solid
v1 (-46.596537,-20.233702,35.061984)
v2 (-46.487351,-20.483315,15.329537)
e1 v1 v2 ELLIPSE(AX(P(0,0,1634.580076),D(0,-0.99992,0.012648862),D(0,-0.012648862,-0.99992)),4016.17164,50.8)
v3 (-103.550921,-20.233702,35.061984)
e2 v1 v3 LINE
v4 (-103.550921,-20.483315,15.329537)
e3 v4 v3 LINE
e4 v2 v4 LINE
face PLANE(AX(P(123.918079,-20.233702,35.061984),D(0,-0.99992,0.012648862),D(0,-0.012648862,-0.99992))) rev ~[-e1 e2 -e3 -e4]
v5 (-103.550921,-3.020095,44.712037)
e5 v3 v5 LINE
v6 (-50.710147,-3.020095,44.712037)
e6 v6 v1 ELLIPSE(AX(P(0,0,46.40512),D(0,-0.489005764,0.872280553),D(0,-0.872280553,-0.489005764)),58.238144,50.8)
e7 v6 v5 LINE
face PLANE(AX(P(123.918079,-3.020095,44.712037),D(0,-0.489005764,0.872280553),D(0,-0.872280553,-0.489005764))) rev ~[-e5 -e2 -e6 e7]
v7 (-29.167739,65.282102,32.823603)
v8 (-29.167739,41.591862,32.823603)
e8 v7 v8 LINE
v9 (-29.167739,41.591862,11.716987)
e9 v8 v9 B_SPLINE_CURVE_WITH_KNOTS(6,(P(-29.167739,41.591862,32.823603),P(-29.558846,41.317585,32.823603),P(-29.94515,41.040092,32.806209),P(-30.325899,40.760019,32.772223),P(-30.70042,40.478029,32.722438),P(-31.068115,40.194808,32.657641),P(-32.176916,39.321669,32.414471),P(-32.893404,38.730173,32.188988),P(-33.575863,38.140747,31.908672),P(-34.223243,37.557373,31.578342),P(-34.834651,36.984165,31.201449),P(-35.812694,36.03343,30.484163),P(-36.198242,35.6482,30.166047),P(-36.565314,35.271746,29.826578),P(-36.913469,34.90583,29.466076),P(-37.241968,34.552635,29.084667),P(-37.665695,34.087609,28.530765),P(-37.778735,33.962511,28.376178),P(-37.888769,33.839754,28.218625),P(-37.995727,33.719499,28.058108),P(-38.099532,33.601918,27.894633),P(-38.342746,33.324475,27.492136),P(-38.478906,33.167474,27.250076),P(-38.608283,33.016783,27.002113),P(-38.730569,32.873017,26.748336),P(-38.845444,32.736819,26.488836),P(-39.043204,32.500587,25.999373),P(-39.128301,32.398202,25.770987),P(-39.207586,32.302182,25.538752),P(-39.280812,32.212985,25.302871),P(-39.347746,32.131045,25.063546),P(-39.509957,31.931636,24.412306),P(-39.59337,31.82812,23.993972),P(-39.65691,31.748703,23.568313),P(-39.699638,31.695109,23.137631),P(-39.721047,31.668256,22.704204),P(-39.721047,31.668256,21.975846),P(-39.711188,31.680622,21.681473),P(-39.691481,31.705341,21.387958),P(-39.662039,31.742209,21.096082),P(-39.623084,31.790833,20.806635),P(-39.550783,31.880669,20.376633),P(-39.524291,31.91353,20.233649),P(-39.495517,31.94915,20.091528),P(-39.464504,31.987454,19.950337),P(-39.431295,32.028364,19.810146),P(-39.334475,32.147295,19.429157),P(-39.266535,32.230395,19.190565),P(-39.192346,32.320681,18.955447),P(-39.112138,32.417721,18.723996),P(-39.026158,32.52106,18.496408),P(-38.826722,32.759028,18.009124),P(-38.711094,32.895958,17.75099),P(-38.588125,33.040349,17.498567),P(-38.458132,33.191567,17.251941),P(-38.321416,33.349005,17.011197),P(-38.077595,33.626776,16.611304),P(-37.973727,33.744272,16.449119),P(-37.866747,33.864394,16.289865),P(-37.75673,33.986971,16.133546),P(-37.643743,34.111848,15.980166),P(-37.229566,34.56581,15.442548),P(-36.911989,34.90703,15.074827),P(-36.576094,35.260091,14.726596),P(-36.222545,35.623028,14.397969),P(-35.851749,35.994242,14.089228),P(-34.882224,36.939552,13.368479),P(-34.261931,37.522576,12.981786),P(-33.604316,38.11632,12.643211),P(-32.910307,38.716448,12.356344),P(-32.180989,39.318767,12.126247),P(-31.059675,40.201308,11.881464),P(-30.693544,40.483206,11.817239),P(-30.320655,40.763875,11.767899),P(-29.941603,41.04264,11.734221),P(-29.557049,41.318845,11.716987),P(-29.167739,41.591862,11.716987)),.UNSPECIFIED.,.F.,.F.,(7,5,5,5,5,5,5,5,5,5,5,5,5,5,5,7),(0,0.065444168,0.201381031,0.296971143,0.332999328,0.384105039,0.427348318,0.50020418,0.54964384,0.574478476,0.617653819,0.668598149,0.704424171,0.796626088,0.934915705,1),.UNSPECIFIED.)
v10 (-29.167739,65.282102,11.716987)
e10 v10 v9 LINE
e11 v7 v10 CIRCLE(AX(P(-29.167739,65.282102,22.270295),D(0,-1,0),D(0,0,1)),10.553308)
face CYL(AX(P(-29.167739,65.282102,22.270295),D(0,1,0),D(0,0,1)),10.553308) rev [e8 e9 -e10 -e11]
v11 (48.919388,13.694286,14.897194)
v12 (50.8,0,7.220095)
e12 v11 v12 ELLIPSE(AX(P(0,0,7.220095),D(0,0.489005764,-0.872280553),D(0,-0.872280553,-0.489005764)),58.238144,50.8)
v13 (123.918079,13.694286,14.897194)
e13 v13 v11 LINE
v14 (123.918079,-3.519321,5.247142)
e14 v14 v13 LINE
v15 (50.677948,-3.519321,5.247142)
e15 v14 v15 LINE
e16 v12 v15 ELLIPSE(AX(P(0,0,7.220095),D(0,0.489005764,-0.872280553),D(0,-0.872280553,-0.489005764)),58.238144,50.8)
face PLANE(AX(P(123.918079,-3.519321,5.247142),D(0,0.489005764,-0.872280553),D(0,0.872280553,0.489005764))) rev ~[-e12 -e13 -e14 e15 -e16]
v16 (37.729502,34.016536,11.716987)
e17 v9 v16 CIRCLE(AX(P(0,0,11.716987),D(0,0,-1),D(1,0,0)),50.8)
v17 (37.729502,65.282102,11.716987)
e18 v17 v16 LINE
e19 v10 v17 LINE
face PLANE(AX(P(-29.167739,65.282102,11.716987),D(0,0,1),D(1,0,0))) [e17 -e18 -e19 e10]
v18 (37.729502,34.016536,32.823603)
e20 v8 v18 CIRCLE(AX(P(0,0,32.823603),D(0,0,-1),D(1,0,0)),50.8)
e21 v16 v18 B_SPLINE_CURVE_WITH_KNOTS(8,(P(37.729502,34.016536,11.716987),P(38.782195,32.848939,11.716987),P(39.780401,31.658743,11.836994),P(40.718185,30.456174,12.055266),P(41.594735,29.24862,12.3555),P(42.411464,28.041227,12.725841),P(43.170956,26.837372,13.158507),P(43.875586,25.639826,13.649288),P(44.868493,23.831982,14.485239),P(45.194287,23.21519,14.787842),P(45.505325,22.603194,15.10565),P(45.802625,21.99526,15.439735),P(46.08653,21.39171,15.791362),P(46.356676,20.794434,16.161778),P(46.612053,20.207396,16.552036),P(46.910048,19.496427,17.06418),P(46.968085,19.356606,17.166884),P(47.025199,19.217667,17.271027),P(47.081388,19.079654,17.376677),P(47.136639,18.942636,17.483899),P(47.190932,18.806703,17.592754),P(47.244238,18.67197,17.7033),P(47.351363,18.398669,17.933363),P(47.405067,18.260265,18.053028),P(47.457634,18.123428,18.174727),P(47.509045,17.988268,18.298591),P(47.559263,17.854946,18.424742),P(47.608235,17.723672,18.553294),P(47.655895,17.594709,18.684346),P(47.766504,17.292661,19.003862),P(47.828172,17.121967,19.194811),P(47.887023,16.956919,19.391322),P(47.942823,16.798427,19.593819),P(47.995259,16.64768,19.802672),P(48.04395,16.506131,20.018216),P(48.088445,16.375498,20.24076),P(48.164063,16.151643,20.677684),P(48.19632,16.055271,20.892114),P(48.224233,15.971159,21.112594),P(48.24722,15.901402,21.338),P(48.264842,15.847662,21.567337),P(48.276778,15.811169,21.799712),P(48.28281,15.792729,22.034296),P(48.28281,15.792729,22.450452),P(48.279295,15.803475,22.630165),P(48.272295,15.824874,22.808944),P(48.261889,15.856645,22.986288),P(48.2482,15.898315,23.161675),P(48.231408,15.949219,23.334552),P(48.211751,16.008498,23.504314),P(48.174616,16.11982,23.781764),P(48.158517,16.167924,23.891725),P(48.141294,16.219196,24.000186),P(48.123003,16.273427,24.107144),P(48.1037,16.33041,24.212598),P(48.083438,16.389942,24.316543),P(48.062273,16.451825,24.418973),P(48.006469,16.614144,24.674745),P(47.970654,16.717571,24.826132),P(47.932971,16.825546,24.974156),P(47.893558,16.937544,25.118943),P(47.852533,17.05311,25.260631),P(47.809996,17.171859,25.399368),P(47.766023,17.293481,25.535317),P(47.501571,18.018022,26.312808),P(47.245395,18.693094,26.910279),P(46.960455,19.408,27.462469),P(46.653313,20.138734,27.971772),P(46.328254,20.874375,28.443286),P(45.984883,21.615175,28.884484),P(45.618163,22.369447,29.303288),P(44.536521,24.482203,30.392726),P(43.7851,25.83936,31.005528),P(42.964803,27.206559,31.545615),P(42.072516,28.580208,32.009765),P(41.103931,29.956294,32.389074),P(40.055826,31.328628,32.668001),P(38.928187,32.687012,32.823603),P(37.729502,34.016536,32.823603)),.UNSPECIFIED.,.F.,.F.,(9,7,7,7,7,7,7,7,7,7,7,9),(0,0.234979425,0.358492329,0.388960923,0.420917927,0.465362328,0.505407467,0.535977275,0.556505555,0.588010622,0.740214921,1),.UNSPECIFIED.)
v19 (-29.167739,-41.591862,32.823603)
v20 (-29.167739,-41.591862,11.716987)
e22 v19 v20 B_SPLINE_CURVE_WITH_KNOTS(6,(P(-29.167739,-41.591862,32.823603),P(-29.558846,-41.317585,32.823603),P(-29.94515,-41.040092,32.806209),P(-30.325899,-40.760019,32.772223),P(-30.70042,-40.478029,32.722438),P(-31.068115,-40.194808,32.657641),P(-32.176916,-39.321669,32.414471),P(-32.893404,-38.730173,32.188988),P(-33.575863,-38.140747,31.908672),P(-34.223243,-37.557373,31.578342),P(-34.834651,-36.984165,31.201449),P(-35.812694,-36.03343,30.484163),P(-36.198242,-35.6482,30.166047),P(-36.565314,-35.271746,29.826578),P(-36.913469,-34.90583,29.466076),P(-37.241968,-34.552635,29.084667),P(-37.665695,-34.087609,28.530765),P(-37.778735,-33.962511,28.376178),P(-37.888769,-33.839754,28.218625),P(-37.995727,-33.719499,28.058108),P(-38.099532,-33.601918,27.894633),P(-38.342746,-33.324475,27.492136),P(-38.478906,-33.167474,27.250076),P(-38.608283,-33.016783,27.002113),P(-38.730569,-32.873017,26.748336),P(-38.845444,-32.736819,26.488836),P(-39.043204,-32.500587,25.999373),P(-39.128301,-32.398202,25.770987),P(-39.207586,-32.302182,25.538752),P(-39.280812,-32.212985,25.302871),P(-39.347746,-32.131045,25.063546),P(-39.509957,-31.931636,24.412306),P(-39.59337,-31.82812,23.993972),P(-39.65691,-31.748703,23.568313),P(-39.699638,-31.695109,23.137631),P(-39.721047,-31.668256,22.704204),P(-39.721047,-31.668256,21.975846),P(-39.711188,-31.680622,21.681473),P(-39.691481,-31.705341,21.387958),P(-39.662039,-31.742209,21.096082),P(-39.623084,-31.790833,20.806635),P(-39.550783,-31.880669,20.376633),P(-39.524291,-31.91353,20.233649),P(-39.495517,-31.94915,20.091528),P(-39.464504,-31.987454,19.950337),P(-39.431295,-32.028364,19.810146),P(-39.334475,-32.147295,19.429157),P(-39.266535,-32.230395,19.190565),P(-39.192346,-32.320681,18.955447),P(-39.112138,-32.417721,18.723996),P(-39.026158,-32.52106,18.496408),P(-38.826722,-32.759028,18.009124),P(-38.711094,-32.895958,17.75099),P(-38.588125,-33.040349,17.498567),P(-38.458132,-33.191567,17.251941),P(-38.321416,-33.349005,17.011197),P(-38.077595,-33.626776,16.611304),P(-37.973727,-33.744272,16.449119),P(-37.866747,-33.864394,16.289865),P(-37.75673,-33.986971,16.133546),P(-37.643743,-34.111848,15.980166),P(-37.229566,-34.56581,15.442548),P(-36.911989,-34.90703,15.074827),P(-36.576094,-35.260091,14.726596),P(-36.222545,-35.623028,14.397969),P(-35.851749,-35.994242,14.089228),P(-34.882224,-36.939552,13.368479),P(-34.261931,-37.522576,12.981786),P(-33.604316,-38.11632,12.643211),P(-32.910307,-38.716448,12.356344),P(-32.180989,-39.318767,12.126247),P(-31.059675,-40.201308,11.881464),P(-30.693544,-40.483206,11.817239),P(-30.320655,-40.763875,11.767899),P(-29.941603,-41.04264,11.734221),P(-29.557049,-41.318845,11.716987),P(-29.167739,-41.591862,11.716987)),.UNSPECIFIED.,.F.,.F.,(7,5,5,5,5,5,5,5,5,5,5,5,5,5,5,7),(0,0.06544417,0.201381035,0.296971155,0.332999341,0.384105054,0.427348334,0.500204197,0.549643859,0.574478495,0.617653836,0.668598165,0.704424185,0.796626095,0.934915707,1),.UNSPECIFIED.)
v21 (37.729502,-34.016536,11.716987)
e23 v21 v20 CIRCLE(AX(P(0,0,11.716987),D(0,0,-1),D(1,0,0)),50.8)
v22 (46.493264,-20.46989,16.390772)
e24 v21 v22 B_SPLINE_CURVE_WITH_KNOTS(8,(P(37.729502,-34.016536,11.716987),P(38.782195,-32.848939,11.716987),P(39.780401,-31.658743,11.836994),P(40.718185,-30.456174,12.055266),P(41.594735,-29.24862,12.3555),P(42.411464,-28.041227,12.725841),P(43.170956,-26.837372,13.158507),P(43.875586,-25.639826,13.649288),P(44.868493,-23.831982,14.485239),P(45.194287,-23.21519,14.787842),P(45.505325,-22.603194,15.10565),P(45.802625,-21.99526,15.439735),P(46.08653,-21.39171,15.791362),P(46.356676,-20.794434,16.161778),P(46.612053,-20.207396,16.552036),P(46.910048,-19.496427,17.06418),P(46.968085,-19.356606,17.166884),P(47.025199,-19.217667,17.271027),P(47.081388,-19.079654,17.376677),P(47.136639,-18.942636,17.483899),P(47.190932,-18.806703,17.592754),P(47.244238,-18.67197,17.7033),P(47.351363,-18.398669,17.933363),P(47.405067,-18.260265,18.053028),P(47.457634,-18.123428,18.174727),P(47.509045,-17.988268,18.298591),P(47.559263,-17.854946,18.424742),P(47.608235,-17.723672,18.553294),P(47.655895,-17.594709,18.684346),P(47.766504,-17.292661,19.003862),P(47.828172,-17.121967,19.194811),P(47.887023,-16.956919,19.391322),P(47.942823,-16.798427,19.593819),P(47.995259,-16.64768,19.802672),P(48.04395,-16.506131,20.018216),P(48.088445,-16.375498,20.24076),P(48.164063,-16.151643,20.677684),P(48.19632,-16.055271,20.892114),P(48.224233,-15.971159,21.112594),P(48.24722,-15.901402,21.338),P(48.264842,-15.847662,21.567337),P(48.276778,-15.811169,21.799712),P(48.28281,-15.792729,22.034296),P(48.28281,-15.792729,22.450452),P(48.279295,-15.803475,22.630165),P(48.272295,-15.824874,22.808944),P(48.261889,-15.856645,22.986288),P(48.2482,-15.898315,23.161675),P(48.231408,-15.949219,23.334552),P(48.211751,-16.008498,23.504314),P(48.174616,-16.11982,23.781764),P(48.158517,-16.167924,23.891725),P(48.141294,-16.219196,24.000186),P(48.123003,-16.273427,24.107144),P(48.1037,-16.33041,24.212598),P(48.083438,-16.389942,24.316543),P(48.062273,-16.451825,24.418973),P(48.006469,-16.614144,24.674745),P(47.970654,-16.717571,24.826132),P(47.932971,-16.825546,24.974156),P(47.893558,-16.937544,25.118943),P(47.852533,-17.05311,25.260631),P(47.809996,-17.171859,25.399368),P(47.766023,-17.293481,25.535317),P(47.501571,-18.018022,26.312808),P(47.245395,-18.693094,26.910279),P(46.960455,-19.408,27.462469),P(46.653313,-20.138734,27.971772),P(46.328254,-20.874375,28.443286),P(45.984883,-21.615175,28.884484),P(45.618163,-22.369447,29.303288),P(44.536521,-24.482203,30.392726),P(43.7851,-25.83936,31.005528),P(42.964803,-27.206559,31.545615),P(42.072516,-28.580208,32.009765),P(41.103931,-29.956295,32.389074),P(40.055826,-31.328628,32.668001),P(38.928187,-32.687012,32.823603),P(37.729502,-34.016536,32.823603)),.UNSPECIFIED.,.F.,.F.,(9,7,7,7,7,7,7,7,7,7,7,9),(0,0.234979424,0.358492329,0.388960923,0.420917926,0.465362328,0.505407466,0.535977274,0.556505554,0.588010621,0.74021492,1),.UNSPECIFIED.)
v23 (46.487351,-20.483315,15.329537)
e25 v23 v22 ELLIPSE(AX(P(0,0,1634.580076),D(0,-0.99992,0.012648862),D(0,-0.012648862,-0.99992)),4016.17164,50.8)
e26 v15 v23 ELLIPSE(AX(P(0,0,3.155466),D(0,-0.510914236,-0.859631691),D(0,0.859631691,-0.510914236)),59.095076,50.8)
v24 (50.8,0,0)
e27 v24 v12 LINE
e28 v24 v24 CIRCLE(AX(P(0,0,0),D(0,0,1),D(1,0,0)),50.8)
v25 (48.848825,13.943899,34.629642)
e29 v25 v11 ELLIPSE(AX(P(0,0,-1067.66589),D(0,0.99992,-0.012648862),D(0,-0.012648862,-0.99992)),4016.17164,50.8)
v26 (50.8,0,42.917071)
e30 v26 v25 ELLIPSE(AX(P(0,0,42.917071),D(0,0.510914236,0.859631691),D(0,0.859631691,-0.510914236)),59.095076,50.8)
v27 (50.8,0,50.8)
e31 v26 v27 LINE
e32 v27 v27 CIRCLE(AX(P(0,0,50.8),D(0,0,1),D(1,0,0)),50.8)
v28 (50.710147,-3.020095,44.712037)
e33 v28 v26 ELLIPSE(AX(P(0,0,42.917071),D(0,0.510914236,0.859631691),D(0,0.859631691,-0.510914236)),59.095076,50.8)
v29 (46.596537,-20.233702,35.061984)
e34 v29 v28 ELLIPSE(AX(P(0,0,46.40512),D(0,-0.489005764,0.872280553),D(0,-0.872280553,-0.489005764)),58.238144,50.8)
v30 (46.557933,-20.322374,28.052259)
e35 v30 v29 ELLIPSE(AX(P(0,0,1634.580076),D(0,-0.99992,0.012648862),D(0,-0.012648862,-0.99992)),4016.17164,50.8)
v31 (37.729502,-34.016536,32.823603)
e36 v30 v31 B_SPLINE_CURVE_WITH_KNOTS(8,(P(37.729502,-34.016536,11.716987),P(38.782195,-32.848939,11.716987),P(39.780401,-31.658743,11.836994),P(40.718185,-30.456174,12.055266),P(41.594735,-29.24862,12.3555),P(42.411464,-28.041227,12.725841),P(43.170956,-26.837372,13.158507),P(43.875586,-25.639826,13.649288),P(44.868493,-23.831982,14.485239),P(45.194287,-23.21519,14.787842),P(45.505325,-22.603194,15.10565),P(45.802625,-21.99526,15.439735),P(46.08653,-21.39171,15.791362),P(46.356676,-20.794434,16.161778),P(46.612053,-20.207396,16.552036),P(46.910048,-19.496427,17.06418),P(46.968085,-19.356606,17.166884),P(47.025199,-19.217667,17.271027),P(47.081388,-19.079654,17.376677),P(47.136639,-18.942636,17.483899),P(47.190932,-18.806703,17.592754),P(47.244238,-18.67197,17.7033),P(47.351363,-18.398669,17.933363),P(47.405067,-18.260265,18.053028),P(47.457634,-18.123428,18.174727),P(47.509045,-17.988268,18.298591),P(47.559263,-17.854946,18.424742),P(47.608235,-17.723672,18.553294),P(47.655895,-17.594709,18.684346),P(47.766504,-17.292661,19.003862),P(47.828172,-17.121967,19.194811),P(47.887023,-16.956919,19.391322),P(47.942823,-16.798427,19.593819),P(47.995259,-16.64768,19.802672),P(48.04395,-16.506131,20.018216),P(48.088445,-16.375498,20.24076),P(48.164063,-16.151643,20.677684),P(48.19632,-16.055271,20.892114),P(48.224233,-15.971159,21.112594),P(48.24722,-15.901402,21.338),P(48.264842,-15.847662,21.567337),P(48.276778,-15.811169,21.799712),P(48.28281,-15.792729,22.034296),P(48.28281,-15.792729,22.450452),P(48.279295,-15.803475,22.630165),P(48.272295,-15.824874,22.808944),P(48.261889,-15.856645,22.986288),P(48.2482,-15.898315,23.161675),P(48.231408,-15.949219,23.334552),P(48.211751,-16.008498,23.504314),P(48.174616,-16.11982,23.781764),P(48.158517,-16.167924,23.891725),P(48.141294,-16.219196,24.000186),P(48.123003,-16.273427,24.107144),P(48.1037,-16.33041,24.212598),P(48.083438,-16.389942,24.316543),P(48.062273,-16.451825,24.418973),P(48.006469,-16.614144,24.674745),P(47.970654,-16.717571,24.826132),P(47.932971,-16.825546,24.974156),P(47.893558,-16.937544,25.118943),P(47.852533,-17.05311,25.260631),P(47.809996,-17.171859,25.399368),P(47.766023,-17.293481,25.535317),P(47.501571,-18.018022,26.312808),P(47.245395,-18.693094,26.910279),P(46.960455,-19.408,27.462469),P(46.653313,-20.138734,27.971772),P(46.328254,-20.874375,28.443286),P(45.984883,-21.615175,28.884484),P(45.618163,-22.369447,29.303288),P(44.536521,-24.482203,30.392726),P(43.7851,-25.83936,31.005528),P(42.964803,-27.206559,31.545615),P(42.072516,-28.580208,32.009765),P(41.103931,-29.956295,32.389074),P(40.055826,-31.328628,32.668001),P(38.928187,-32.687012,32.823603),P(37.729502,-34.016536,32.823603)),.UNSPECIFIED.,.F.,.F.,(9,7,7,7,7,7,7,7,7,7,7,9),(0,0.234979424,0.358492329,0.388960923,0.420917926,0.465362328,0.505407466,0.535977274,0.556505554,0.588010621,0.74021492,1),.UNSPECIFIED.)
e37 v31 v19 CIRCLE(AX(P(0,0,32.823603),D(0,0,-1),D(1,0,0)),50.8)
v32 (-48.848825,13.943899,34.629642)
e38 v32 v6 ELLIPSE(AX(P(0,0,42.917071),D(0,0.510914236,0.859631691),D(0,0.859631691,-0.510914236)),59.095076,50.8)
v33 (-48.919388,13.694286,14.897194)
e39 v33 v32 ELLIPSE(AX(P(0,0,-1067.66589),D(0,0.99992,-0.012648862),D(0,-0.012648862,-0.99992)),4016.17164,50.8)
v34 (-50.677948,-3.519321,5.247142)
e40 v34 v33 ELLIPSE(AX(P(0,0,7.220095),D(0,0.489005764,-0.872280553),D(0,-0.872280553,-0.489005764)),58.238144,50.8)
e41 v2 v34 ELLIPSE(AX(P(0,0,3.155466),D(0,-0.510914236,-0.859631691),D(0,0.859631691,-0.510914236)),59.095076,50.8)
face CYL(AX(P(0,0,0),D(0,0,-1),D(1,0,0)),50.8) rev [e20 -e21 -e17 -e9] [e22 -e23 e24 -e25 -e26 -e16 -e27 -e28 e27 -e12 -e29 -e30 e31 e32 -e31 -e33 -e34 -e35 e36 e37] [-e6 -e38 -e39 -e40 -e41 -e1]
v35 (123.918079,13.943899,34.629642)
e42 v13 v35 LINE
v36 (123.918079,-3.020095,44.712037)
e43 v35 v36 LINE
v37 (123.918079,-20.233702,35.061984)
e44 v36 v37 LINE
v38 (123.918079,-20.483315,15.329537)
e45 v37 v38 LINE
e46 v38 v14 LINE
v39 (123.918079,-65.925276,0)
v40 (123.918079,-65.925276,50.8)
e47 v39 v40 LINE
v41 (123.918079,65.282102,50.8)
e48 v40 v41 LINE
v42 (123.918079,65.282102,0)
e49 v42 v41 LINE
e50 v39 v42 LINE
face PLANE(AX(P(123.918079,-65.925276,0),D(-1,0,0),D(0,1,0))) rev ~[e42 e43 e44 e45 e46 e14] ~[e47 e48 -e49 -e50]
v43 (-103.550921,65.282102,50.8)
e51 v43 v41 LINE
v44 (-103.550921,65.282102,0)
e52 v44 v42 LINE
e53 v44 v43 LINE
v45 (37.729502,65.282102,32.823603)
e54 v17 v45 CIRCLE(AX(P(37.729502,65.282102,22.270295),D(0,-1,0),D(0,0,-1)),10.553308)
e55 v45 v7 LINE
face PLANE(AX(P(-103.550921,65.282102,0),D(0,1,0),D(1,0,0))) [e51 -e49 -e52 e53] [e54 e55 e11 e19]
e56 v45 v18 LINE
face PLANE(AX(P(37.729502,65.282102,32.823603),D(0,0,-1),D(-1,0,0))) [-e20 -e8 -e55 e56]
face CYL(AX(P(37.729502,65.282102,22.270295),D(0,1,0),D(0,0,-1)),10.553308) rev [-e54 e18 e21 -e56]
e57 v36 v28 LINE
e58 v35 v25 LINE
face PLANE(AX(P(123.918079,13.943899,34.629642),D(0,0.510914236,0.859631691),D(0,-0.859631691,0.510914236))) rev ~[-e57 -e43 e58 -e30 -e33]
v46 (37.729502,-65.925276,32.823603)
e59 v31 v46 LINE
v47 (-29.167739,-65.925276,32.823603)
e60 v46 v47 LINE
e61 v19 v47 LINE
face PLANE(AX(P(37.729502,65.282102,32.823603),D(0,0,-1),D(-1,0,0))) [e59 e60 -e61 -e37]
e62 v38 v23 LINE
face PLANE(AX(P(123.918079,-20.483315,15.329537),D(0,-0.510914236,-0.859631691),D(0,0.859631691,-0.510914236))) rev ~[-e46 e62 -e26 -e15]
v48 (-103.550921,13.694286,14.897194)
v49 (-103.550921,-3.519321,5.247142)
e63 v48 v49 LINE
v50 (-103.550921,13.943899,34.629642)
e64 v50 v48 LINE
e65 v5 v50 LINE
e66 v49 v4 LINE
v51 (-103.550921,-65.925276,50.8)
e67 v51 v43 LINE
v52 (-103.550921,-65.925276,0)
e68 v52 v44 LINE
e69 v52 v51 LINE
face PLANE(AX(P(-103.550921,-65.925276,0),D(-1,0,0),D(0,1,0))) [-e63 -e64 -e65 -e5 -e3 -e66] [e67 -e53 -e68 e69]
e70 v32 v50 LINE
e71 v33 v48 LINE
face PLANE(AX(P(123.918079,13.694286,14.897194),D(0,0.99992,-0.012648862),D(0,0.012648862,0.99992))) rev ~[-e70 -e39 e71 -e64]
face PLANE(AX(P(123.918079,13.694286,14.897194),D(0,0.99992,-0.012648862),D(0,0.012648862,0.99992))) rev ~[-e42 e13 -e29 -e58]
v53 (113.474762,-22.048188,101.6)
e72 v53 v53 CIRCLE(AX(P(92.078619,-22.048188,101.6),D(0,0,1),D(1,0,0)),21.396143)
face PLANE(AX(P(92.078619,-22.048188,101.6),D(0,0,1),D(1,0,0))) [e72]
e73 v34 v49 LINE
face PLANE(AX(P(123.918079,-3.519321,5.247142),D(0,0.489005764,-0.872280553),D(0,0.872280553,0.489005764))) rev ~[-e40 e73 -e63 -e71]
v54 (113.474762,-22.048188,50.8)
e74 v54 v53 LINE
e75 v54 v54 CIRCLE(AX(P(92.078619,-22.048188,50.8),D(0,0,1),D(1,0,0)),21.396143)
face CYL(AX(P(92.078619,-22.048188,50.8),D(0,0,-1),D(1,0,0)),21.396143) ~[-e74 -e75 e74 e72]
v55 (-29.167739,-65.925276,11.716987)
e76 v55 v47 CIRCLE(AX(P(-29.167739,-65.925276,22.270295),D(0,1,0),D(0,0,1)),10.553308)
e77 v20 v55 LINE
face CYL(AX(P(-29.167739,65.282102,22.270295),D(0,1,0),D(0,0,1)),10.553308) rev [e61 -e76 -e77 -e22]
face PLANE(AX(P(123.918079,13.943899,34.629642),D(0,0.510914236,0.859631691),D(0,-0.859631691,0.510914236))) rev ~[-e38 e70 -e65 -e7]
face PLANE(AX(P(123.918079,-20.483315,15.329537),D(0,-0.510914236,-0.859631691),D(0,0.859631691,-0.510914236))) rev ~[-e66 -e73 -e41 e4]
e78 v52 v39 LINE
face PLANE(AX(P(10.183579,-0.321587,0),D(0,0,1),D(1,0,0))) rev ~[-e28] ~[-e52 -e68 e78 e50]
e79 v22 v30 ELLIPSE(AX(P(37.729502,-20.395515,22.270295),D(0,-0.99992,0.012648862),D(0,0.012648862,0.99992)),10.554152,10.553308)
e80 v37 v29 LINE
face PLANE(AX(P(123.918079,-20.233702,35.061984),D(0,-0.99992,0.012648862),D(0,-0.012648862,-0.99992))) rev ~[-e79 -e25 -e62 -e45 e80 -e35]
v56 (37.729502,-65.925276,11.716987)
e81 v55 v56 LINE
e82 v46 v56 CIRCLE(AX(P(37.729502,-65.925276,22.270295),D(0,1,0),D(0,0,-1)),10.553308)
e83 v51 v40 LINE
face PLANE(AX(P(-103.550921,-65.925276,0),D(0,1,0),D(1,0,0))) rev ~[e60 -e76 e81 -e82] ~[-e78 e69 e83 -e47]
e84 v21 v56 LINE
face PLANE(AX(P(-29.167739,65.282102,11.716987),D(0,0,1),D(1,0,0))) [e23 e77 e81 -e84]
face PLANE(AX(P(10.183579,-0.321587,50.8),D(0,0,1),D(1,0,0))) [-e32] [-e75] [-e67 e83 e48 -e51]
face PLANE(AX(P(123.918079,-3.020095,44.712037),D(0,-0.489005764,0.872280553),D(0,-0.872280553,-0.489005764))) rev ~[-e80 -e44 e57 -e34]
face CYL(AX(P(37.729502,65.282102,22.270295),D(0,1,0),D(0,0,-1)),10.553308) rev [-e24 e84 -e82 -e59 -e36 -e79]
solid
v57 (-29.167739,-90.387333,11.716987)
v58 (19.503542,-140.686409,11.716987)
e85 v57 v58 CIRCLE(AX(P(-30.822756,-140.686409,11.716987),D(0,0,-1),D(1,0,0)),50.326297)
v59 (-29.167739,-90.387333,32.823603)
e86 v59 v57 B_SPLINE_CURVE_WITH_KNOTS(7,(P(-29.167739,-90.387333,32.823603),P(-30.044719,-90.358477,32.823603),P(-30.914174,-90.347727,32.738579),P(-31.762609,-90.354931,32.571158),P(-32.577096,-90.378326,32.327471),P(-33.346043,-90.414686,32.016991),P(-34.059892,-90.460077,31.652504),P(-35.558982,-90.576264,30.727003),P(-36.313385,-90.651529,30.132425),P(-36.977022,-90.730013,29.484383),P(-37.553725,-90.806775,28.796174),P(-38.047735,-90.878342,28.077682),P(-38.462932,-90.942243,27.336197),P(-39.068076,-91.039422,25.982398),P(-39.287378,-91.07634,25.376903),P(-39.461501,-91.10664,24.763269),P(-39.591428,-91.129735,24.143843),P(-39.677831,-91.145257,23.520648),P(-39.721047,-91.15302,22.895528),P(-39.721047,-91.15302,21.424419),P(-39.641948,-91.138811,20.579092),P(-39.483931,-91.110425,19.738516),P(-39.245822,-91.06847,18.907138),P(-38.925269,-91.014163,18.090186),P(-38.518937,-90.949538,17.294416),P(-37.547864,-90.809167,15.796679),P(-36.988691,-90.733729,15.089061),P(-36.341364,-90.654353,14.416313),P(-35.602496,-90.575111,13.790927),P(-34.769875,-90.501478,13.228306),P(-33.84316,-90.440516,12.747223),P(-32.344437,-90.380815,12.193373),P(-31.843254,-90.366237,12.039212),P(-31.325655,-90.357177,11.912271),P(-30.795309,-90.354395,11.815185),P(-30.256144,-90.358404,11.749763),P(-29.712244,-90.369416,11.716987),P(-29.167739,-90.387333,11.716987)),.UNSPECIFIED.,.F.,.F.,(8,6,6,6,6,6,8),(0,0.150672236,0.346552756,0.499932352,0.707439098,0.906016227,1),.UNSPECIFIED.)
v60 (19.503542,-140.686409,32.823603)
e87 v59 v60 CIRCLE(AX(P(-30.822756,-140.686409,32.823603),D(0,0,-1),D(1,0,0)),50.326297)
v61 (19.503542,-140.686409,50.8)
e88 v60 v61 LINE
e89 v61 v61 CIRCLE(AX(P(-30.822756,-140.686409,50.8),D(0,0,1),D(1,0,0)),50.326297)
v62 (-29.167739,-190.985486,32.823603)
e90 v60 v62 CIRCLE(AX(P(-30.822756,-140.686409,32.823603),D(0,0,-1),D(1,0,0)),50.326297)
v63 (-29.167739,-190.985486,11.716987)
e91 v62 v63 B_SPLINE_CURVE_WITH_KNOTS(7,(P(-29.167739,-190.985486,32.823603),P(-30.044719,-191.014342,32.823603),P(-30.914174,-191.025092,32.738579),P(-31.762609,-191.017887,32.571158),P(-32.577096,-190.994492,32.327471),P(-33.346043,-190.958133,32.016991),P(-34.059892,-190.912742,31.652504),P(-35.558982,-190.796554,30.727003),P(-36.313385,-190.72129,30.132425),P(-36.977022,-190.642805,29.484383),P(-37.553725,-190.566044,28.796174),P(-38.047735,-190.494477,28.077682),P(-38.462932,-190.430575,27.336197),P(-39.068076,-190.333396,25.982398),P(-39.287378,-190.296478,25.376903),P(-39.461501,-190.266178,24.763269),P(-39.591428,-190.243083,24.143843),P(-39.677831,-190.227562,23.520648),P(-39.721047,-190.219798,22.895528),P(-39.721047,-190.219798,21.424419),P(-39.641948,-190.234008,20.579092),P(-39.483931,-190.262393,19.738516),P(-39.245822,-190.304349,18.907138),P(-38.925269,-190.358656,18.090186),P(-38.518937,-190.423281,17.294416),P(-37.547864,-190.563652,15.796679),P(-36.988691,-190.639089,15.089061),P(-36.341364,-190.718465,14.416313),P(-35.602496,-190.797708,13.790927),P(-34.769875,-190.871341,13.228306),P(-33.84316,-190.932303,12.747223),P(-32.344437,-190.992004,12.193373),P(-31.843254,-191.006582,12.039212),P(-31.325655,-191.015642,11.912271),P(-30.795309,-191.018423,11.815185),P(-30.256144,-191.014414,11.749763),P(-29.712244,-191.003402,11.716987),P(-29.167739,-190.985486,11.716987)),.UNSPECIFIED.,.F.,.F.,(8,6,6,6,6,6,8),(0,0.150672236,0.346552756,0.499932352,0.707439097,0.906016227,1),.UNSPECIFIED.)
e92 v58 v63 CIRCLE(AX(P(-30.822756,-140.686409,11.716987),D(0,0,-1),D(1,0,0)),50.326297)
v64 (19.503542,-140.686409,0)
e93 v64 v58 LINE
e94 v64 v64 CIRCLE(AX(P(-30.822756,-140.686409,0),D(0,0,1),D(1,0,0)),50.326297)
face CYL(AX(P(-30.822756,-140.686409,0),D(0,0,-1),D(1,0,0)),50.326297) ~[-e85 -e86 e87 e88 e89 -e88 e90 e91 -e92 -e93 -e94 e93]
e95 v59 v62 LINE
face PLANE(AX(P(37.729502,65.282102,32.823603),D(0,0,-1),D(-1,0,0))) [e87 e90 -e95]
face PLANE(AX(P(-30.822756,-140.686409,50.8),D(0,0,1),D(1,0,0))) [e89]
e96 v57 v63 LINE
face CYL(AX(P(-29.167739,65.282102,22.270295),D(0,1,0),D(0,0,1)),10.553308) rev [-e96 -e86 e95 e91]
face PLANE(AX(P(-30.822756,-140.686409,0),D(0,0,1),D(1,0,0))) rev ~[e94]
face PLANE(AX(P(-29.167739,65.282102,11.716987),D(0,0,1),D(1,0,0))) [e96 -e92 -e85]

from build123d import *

# Parameters (mm, degrees)
SKETCH1_R             = 50.326297337
BOSS_EXTRUDE1_DEPTH   = 50.8
SKETCH1_W             = 227.468999718
SKETCH1_H             = 131.207377783
SKETCH1_R_2           = 50.8
BOSS_EXTRUDE1_2_DEPTH = 50.8
CUT_EXTRUDE1_DEPTH    = 302.344719427
SKETCH2_R             = 21.396142598
BOSS_EXTRUDE2_DEPTH   = 50.8
CUT_EXTRUDE2_DEPTH    = 303.266900818


with BuildPart() as part:
    # Sketch1 → Boss-Extrude1 (new body)
    with BuildSketch(Plane.XY):
        with Locations((-30.822755562, -140.686409292)):
            Circle(SKETCH1_R)
    extrude(amount=BOSS_EXTRUDE1_DEPTH)


with BuildPart() as body_2:
    # Sketch1 → Boss-Extrude1 2 (new body)
    with BuildSketch(Plane.XY):
        with Locations((10.183579158, -0.321586711)):
            Rectangle(SKETCH1_W, SKETCH1_H)
        Circle(SKETCH1_R_2, mode=Mode.SUBTRACT)
    extrude(amount=BOSS_EXTRUDE1_2_DEPTH)

    # Sketch3 → Cut-Extrude1 (cut, through all)
    with BuildSketch(Plane(origin=(123.918079017, 0, 0), x_dir=(0, 0, -1), z_dir=(1, 0, 0))):
        Polygon((-15.329536796, -20.483314939), (-5.247141964, -3.519320764), (-14.897194453, 13.694286379), (-34.629641774, 13.943899347), (-44.712036607, -3.020094828), (-35.061984117, -20.233701971), align=None)
    extrude(amount=-CUT_EXTRUDE1_DEPTH, mode=Mode.SUBTRACT)

    # Sketch2 → Boss-Extrude2 (add)
    with BuildSketch(Plane.XY.offset(50.8)):
        with Locations((92.078619203, -22.048188316)):
            Circle(SKETCH2_R)
    extrude(amount=BOSS_EXTRUDE2_DEPTH)


with BuildPart() as cut_extrude2_tool:
    # Sketch4 → Cut-Extrude2 (new, through all)
    with BuildSketch(Plane(origin=(0, 65.282102181, 0), x_dir=(1, 0, 0), z_dir=(0, 1, 0))):
        with BuildLine():
            Line((-29.167738676, -11.716986605), (37.729501642, -11.716986605))
            ThreePointArc((37.729501642, -11.716986605), (48.282809607, -22.27029457), (37.729501642, -32.823602535))
            Line((37.729501642, -32.823602535), (-29.167738676, -32.823602535))
            ThreePointArc((-29.167738676, -32.823602535), (-39.721046641, -22.27029457), (-29.167738676, -11.716986605))
        make_face()
    extrude(amount=-CUT_EXTRUDE2_DEPTH)


with BuildPart() as part_1:
    add(part.part)

    # Cut-Extrude2: cut by cut_extrude2_tool
    add(cut_extrude2_tool.part, mode=Mode.SUBTRACT)


with BuildPart() as body_2_1:
    add(body_2.part)

    # Cut-Extrude2: cut by cut_extrude2_tool
    add(cut_extrude2_tool.part, mode=Mode.SUBTRACT)


solid = Compound([part_1.part, body_2_1.part])
